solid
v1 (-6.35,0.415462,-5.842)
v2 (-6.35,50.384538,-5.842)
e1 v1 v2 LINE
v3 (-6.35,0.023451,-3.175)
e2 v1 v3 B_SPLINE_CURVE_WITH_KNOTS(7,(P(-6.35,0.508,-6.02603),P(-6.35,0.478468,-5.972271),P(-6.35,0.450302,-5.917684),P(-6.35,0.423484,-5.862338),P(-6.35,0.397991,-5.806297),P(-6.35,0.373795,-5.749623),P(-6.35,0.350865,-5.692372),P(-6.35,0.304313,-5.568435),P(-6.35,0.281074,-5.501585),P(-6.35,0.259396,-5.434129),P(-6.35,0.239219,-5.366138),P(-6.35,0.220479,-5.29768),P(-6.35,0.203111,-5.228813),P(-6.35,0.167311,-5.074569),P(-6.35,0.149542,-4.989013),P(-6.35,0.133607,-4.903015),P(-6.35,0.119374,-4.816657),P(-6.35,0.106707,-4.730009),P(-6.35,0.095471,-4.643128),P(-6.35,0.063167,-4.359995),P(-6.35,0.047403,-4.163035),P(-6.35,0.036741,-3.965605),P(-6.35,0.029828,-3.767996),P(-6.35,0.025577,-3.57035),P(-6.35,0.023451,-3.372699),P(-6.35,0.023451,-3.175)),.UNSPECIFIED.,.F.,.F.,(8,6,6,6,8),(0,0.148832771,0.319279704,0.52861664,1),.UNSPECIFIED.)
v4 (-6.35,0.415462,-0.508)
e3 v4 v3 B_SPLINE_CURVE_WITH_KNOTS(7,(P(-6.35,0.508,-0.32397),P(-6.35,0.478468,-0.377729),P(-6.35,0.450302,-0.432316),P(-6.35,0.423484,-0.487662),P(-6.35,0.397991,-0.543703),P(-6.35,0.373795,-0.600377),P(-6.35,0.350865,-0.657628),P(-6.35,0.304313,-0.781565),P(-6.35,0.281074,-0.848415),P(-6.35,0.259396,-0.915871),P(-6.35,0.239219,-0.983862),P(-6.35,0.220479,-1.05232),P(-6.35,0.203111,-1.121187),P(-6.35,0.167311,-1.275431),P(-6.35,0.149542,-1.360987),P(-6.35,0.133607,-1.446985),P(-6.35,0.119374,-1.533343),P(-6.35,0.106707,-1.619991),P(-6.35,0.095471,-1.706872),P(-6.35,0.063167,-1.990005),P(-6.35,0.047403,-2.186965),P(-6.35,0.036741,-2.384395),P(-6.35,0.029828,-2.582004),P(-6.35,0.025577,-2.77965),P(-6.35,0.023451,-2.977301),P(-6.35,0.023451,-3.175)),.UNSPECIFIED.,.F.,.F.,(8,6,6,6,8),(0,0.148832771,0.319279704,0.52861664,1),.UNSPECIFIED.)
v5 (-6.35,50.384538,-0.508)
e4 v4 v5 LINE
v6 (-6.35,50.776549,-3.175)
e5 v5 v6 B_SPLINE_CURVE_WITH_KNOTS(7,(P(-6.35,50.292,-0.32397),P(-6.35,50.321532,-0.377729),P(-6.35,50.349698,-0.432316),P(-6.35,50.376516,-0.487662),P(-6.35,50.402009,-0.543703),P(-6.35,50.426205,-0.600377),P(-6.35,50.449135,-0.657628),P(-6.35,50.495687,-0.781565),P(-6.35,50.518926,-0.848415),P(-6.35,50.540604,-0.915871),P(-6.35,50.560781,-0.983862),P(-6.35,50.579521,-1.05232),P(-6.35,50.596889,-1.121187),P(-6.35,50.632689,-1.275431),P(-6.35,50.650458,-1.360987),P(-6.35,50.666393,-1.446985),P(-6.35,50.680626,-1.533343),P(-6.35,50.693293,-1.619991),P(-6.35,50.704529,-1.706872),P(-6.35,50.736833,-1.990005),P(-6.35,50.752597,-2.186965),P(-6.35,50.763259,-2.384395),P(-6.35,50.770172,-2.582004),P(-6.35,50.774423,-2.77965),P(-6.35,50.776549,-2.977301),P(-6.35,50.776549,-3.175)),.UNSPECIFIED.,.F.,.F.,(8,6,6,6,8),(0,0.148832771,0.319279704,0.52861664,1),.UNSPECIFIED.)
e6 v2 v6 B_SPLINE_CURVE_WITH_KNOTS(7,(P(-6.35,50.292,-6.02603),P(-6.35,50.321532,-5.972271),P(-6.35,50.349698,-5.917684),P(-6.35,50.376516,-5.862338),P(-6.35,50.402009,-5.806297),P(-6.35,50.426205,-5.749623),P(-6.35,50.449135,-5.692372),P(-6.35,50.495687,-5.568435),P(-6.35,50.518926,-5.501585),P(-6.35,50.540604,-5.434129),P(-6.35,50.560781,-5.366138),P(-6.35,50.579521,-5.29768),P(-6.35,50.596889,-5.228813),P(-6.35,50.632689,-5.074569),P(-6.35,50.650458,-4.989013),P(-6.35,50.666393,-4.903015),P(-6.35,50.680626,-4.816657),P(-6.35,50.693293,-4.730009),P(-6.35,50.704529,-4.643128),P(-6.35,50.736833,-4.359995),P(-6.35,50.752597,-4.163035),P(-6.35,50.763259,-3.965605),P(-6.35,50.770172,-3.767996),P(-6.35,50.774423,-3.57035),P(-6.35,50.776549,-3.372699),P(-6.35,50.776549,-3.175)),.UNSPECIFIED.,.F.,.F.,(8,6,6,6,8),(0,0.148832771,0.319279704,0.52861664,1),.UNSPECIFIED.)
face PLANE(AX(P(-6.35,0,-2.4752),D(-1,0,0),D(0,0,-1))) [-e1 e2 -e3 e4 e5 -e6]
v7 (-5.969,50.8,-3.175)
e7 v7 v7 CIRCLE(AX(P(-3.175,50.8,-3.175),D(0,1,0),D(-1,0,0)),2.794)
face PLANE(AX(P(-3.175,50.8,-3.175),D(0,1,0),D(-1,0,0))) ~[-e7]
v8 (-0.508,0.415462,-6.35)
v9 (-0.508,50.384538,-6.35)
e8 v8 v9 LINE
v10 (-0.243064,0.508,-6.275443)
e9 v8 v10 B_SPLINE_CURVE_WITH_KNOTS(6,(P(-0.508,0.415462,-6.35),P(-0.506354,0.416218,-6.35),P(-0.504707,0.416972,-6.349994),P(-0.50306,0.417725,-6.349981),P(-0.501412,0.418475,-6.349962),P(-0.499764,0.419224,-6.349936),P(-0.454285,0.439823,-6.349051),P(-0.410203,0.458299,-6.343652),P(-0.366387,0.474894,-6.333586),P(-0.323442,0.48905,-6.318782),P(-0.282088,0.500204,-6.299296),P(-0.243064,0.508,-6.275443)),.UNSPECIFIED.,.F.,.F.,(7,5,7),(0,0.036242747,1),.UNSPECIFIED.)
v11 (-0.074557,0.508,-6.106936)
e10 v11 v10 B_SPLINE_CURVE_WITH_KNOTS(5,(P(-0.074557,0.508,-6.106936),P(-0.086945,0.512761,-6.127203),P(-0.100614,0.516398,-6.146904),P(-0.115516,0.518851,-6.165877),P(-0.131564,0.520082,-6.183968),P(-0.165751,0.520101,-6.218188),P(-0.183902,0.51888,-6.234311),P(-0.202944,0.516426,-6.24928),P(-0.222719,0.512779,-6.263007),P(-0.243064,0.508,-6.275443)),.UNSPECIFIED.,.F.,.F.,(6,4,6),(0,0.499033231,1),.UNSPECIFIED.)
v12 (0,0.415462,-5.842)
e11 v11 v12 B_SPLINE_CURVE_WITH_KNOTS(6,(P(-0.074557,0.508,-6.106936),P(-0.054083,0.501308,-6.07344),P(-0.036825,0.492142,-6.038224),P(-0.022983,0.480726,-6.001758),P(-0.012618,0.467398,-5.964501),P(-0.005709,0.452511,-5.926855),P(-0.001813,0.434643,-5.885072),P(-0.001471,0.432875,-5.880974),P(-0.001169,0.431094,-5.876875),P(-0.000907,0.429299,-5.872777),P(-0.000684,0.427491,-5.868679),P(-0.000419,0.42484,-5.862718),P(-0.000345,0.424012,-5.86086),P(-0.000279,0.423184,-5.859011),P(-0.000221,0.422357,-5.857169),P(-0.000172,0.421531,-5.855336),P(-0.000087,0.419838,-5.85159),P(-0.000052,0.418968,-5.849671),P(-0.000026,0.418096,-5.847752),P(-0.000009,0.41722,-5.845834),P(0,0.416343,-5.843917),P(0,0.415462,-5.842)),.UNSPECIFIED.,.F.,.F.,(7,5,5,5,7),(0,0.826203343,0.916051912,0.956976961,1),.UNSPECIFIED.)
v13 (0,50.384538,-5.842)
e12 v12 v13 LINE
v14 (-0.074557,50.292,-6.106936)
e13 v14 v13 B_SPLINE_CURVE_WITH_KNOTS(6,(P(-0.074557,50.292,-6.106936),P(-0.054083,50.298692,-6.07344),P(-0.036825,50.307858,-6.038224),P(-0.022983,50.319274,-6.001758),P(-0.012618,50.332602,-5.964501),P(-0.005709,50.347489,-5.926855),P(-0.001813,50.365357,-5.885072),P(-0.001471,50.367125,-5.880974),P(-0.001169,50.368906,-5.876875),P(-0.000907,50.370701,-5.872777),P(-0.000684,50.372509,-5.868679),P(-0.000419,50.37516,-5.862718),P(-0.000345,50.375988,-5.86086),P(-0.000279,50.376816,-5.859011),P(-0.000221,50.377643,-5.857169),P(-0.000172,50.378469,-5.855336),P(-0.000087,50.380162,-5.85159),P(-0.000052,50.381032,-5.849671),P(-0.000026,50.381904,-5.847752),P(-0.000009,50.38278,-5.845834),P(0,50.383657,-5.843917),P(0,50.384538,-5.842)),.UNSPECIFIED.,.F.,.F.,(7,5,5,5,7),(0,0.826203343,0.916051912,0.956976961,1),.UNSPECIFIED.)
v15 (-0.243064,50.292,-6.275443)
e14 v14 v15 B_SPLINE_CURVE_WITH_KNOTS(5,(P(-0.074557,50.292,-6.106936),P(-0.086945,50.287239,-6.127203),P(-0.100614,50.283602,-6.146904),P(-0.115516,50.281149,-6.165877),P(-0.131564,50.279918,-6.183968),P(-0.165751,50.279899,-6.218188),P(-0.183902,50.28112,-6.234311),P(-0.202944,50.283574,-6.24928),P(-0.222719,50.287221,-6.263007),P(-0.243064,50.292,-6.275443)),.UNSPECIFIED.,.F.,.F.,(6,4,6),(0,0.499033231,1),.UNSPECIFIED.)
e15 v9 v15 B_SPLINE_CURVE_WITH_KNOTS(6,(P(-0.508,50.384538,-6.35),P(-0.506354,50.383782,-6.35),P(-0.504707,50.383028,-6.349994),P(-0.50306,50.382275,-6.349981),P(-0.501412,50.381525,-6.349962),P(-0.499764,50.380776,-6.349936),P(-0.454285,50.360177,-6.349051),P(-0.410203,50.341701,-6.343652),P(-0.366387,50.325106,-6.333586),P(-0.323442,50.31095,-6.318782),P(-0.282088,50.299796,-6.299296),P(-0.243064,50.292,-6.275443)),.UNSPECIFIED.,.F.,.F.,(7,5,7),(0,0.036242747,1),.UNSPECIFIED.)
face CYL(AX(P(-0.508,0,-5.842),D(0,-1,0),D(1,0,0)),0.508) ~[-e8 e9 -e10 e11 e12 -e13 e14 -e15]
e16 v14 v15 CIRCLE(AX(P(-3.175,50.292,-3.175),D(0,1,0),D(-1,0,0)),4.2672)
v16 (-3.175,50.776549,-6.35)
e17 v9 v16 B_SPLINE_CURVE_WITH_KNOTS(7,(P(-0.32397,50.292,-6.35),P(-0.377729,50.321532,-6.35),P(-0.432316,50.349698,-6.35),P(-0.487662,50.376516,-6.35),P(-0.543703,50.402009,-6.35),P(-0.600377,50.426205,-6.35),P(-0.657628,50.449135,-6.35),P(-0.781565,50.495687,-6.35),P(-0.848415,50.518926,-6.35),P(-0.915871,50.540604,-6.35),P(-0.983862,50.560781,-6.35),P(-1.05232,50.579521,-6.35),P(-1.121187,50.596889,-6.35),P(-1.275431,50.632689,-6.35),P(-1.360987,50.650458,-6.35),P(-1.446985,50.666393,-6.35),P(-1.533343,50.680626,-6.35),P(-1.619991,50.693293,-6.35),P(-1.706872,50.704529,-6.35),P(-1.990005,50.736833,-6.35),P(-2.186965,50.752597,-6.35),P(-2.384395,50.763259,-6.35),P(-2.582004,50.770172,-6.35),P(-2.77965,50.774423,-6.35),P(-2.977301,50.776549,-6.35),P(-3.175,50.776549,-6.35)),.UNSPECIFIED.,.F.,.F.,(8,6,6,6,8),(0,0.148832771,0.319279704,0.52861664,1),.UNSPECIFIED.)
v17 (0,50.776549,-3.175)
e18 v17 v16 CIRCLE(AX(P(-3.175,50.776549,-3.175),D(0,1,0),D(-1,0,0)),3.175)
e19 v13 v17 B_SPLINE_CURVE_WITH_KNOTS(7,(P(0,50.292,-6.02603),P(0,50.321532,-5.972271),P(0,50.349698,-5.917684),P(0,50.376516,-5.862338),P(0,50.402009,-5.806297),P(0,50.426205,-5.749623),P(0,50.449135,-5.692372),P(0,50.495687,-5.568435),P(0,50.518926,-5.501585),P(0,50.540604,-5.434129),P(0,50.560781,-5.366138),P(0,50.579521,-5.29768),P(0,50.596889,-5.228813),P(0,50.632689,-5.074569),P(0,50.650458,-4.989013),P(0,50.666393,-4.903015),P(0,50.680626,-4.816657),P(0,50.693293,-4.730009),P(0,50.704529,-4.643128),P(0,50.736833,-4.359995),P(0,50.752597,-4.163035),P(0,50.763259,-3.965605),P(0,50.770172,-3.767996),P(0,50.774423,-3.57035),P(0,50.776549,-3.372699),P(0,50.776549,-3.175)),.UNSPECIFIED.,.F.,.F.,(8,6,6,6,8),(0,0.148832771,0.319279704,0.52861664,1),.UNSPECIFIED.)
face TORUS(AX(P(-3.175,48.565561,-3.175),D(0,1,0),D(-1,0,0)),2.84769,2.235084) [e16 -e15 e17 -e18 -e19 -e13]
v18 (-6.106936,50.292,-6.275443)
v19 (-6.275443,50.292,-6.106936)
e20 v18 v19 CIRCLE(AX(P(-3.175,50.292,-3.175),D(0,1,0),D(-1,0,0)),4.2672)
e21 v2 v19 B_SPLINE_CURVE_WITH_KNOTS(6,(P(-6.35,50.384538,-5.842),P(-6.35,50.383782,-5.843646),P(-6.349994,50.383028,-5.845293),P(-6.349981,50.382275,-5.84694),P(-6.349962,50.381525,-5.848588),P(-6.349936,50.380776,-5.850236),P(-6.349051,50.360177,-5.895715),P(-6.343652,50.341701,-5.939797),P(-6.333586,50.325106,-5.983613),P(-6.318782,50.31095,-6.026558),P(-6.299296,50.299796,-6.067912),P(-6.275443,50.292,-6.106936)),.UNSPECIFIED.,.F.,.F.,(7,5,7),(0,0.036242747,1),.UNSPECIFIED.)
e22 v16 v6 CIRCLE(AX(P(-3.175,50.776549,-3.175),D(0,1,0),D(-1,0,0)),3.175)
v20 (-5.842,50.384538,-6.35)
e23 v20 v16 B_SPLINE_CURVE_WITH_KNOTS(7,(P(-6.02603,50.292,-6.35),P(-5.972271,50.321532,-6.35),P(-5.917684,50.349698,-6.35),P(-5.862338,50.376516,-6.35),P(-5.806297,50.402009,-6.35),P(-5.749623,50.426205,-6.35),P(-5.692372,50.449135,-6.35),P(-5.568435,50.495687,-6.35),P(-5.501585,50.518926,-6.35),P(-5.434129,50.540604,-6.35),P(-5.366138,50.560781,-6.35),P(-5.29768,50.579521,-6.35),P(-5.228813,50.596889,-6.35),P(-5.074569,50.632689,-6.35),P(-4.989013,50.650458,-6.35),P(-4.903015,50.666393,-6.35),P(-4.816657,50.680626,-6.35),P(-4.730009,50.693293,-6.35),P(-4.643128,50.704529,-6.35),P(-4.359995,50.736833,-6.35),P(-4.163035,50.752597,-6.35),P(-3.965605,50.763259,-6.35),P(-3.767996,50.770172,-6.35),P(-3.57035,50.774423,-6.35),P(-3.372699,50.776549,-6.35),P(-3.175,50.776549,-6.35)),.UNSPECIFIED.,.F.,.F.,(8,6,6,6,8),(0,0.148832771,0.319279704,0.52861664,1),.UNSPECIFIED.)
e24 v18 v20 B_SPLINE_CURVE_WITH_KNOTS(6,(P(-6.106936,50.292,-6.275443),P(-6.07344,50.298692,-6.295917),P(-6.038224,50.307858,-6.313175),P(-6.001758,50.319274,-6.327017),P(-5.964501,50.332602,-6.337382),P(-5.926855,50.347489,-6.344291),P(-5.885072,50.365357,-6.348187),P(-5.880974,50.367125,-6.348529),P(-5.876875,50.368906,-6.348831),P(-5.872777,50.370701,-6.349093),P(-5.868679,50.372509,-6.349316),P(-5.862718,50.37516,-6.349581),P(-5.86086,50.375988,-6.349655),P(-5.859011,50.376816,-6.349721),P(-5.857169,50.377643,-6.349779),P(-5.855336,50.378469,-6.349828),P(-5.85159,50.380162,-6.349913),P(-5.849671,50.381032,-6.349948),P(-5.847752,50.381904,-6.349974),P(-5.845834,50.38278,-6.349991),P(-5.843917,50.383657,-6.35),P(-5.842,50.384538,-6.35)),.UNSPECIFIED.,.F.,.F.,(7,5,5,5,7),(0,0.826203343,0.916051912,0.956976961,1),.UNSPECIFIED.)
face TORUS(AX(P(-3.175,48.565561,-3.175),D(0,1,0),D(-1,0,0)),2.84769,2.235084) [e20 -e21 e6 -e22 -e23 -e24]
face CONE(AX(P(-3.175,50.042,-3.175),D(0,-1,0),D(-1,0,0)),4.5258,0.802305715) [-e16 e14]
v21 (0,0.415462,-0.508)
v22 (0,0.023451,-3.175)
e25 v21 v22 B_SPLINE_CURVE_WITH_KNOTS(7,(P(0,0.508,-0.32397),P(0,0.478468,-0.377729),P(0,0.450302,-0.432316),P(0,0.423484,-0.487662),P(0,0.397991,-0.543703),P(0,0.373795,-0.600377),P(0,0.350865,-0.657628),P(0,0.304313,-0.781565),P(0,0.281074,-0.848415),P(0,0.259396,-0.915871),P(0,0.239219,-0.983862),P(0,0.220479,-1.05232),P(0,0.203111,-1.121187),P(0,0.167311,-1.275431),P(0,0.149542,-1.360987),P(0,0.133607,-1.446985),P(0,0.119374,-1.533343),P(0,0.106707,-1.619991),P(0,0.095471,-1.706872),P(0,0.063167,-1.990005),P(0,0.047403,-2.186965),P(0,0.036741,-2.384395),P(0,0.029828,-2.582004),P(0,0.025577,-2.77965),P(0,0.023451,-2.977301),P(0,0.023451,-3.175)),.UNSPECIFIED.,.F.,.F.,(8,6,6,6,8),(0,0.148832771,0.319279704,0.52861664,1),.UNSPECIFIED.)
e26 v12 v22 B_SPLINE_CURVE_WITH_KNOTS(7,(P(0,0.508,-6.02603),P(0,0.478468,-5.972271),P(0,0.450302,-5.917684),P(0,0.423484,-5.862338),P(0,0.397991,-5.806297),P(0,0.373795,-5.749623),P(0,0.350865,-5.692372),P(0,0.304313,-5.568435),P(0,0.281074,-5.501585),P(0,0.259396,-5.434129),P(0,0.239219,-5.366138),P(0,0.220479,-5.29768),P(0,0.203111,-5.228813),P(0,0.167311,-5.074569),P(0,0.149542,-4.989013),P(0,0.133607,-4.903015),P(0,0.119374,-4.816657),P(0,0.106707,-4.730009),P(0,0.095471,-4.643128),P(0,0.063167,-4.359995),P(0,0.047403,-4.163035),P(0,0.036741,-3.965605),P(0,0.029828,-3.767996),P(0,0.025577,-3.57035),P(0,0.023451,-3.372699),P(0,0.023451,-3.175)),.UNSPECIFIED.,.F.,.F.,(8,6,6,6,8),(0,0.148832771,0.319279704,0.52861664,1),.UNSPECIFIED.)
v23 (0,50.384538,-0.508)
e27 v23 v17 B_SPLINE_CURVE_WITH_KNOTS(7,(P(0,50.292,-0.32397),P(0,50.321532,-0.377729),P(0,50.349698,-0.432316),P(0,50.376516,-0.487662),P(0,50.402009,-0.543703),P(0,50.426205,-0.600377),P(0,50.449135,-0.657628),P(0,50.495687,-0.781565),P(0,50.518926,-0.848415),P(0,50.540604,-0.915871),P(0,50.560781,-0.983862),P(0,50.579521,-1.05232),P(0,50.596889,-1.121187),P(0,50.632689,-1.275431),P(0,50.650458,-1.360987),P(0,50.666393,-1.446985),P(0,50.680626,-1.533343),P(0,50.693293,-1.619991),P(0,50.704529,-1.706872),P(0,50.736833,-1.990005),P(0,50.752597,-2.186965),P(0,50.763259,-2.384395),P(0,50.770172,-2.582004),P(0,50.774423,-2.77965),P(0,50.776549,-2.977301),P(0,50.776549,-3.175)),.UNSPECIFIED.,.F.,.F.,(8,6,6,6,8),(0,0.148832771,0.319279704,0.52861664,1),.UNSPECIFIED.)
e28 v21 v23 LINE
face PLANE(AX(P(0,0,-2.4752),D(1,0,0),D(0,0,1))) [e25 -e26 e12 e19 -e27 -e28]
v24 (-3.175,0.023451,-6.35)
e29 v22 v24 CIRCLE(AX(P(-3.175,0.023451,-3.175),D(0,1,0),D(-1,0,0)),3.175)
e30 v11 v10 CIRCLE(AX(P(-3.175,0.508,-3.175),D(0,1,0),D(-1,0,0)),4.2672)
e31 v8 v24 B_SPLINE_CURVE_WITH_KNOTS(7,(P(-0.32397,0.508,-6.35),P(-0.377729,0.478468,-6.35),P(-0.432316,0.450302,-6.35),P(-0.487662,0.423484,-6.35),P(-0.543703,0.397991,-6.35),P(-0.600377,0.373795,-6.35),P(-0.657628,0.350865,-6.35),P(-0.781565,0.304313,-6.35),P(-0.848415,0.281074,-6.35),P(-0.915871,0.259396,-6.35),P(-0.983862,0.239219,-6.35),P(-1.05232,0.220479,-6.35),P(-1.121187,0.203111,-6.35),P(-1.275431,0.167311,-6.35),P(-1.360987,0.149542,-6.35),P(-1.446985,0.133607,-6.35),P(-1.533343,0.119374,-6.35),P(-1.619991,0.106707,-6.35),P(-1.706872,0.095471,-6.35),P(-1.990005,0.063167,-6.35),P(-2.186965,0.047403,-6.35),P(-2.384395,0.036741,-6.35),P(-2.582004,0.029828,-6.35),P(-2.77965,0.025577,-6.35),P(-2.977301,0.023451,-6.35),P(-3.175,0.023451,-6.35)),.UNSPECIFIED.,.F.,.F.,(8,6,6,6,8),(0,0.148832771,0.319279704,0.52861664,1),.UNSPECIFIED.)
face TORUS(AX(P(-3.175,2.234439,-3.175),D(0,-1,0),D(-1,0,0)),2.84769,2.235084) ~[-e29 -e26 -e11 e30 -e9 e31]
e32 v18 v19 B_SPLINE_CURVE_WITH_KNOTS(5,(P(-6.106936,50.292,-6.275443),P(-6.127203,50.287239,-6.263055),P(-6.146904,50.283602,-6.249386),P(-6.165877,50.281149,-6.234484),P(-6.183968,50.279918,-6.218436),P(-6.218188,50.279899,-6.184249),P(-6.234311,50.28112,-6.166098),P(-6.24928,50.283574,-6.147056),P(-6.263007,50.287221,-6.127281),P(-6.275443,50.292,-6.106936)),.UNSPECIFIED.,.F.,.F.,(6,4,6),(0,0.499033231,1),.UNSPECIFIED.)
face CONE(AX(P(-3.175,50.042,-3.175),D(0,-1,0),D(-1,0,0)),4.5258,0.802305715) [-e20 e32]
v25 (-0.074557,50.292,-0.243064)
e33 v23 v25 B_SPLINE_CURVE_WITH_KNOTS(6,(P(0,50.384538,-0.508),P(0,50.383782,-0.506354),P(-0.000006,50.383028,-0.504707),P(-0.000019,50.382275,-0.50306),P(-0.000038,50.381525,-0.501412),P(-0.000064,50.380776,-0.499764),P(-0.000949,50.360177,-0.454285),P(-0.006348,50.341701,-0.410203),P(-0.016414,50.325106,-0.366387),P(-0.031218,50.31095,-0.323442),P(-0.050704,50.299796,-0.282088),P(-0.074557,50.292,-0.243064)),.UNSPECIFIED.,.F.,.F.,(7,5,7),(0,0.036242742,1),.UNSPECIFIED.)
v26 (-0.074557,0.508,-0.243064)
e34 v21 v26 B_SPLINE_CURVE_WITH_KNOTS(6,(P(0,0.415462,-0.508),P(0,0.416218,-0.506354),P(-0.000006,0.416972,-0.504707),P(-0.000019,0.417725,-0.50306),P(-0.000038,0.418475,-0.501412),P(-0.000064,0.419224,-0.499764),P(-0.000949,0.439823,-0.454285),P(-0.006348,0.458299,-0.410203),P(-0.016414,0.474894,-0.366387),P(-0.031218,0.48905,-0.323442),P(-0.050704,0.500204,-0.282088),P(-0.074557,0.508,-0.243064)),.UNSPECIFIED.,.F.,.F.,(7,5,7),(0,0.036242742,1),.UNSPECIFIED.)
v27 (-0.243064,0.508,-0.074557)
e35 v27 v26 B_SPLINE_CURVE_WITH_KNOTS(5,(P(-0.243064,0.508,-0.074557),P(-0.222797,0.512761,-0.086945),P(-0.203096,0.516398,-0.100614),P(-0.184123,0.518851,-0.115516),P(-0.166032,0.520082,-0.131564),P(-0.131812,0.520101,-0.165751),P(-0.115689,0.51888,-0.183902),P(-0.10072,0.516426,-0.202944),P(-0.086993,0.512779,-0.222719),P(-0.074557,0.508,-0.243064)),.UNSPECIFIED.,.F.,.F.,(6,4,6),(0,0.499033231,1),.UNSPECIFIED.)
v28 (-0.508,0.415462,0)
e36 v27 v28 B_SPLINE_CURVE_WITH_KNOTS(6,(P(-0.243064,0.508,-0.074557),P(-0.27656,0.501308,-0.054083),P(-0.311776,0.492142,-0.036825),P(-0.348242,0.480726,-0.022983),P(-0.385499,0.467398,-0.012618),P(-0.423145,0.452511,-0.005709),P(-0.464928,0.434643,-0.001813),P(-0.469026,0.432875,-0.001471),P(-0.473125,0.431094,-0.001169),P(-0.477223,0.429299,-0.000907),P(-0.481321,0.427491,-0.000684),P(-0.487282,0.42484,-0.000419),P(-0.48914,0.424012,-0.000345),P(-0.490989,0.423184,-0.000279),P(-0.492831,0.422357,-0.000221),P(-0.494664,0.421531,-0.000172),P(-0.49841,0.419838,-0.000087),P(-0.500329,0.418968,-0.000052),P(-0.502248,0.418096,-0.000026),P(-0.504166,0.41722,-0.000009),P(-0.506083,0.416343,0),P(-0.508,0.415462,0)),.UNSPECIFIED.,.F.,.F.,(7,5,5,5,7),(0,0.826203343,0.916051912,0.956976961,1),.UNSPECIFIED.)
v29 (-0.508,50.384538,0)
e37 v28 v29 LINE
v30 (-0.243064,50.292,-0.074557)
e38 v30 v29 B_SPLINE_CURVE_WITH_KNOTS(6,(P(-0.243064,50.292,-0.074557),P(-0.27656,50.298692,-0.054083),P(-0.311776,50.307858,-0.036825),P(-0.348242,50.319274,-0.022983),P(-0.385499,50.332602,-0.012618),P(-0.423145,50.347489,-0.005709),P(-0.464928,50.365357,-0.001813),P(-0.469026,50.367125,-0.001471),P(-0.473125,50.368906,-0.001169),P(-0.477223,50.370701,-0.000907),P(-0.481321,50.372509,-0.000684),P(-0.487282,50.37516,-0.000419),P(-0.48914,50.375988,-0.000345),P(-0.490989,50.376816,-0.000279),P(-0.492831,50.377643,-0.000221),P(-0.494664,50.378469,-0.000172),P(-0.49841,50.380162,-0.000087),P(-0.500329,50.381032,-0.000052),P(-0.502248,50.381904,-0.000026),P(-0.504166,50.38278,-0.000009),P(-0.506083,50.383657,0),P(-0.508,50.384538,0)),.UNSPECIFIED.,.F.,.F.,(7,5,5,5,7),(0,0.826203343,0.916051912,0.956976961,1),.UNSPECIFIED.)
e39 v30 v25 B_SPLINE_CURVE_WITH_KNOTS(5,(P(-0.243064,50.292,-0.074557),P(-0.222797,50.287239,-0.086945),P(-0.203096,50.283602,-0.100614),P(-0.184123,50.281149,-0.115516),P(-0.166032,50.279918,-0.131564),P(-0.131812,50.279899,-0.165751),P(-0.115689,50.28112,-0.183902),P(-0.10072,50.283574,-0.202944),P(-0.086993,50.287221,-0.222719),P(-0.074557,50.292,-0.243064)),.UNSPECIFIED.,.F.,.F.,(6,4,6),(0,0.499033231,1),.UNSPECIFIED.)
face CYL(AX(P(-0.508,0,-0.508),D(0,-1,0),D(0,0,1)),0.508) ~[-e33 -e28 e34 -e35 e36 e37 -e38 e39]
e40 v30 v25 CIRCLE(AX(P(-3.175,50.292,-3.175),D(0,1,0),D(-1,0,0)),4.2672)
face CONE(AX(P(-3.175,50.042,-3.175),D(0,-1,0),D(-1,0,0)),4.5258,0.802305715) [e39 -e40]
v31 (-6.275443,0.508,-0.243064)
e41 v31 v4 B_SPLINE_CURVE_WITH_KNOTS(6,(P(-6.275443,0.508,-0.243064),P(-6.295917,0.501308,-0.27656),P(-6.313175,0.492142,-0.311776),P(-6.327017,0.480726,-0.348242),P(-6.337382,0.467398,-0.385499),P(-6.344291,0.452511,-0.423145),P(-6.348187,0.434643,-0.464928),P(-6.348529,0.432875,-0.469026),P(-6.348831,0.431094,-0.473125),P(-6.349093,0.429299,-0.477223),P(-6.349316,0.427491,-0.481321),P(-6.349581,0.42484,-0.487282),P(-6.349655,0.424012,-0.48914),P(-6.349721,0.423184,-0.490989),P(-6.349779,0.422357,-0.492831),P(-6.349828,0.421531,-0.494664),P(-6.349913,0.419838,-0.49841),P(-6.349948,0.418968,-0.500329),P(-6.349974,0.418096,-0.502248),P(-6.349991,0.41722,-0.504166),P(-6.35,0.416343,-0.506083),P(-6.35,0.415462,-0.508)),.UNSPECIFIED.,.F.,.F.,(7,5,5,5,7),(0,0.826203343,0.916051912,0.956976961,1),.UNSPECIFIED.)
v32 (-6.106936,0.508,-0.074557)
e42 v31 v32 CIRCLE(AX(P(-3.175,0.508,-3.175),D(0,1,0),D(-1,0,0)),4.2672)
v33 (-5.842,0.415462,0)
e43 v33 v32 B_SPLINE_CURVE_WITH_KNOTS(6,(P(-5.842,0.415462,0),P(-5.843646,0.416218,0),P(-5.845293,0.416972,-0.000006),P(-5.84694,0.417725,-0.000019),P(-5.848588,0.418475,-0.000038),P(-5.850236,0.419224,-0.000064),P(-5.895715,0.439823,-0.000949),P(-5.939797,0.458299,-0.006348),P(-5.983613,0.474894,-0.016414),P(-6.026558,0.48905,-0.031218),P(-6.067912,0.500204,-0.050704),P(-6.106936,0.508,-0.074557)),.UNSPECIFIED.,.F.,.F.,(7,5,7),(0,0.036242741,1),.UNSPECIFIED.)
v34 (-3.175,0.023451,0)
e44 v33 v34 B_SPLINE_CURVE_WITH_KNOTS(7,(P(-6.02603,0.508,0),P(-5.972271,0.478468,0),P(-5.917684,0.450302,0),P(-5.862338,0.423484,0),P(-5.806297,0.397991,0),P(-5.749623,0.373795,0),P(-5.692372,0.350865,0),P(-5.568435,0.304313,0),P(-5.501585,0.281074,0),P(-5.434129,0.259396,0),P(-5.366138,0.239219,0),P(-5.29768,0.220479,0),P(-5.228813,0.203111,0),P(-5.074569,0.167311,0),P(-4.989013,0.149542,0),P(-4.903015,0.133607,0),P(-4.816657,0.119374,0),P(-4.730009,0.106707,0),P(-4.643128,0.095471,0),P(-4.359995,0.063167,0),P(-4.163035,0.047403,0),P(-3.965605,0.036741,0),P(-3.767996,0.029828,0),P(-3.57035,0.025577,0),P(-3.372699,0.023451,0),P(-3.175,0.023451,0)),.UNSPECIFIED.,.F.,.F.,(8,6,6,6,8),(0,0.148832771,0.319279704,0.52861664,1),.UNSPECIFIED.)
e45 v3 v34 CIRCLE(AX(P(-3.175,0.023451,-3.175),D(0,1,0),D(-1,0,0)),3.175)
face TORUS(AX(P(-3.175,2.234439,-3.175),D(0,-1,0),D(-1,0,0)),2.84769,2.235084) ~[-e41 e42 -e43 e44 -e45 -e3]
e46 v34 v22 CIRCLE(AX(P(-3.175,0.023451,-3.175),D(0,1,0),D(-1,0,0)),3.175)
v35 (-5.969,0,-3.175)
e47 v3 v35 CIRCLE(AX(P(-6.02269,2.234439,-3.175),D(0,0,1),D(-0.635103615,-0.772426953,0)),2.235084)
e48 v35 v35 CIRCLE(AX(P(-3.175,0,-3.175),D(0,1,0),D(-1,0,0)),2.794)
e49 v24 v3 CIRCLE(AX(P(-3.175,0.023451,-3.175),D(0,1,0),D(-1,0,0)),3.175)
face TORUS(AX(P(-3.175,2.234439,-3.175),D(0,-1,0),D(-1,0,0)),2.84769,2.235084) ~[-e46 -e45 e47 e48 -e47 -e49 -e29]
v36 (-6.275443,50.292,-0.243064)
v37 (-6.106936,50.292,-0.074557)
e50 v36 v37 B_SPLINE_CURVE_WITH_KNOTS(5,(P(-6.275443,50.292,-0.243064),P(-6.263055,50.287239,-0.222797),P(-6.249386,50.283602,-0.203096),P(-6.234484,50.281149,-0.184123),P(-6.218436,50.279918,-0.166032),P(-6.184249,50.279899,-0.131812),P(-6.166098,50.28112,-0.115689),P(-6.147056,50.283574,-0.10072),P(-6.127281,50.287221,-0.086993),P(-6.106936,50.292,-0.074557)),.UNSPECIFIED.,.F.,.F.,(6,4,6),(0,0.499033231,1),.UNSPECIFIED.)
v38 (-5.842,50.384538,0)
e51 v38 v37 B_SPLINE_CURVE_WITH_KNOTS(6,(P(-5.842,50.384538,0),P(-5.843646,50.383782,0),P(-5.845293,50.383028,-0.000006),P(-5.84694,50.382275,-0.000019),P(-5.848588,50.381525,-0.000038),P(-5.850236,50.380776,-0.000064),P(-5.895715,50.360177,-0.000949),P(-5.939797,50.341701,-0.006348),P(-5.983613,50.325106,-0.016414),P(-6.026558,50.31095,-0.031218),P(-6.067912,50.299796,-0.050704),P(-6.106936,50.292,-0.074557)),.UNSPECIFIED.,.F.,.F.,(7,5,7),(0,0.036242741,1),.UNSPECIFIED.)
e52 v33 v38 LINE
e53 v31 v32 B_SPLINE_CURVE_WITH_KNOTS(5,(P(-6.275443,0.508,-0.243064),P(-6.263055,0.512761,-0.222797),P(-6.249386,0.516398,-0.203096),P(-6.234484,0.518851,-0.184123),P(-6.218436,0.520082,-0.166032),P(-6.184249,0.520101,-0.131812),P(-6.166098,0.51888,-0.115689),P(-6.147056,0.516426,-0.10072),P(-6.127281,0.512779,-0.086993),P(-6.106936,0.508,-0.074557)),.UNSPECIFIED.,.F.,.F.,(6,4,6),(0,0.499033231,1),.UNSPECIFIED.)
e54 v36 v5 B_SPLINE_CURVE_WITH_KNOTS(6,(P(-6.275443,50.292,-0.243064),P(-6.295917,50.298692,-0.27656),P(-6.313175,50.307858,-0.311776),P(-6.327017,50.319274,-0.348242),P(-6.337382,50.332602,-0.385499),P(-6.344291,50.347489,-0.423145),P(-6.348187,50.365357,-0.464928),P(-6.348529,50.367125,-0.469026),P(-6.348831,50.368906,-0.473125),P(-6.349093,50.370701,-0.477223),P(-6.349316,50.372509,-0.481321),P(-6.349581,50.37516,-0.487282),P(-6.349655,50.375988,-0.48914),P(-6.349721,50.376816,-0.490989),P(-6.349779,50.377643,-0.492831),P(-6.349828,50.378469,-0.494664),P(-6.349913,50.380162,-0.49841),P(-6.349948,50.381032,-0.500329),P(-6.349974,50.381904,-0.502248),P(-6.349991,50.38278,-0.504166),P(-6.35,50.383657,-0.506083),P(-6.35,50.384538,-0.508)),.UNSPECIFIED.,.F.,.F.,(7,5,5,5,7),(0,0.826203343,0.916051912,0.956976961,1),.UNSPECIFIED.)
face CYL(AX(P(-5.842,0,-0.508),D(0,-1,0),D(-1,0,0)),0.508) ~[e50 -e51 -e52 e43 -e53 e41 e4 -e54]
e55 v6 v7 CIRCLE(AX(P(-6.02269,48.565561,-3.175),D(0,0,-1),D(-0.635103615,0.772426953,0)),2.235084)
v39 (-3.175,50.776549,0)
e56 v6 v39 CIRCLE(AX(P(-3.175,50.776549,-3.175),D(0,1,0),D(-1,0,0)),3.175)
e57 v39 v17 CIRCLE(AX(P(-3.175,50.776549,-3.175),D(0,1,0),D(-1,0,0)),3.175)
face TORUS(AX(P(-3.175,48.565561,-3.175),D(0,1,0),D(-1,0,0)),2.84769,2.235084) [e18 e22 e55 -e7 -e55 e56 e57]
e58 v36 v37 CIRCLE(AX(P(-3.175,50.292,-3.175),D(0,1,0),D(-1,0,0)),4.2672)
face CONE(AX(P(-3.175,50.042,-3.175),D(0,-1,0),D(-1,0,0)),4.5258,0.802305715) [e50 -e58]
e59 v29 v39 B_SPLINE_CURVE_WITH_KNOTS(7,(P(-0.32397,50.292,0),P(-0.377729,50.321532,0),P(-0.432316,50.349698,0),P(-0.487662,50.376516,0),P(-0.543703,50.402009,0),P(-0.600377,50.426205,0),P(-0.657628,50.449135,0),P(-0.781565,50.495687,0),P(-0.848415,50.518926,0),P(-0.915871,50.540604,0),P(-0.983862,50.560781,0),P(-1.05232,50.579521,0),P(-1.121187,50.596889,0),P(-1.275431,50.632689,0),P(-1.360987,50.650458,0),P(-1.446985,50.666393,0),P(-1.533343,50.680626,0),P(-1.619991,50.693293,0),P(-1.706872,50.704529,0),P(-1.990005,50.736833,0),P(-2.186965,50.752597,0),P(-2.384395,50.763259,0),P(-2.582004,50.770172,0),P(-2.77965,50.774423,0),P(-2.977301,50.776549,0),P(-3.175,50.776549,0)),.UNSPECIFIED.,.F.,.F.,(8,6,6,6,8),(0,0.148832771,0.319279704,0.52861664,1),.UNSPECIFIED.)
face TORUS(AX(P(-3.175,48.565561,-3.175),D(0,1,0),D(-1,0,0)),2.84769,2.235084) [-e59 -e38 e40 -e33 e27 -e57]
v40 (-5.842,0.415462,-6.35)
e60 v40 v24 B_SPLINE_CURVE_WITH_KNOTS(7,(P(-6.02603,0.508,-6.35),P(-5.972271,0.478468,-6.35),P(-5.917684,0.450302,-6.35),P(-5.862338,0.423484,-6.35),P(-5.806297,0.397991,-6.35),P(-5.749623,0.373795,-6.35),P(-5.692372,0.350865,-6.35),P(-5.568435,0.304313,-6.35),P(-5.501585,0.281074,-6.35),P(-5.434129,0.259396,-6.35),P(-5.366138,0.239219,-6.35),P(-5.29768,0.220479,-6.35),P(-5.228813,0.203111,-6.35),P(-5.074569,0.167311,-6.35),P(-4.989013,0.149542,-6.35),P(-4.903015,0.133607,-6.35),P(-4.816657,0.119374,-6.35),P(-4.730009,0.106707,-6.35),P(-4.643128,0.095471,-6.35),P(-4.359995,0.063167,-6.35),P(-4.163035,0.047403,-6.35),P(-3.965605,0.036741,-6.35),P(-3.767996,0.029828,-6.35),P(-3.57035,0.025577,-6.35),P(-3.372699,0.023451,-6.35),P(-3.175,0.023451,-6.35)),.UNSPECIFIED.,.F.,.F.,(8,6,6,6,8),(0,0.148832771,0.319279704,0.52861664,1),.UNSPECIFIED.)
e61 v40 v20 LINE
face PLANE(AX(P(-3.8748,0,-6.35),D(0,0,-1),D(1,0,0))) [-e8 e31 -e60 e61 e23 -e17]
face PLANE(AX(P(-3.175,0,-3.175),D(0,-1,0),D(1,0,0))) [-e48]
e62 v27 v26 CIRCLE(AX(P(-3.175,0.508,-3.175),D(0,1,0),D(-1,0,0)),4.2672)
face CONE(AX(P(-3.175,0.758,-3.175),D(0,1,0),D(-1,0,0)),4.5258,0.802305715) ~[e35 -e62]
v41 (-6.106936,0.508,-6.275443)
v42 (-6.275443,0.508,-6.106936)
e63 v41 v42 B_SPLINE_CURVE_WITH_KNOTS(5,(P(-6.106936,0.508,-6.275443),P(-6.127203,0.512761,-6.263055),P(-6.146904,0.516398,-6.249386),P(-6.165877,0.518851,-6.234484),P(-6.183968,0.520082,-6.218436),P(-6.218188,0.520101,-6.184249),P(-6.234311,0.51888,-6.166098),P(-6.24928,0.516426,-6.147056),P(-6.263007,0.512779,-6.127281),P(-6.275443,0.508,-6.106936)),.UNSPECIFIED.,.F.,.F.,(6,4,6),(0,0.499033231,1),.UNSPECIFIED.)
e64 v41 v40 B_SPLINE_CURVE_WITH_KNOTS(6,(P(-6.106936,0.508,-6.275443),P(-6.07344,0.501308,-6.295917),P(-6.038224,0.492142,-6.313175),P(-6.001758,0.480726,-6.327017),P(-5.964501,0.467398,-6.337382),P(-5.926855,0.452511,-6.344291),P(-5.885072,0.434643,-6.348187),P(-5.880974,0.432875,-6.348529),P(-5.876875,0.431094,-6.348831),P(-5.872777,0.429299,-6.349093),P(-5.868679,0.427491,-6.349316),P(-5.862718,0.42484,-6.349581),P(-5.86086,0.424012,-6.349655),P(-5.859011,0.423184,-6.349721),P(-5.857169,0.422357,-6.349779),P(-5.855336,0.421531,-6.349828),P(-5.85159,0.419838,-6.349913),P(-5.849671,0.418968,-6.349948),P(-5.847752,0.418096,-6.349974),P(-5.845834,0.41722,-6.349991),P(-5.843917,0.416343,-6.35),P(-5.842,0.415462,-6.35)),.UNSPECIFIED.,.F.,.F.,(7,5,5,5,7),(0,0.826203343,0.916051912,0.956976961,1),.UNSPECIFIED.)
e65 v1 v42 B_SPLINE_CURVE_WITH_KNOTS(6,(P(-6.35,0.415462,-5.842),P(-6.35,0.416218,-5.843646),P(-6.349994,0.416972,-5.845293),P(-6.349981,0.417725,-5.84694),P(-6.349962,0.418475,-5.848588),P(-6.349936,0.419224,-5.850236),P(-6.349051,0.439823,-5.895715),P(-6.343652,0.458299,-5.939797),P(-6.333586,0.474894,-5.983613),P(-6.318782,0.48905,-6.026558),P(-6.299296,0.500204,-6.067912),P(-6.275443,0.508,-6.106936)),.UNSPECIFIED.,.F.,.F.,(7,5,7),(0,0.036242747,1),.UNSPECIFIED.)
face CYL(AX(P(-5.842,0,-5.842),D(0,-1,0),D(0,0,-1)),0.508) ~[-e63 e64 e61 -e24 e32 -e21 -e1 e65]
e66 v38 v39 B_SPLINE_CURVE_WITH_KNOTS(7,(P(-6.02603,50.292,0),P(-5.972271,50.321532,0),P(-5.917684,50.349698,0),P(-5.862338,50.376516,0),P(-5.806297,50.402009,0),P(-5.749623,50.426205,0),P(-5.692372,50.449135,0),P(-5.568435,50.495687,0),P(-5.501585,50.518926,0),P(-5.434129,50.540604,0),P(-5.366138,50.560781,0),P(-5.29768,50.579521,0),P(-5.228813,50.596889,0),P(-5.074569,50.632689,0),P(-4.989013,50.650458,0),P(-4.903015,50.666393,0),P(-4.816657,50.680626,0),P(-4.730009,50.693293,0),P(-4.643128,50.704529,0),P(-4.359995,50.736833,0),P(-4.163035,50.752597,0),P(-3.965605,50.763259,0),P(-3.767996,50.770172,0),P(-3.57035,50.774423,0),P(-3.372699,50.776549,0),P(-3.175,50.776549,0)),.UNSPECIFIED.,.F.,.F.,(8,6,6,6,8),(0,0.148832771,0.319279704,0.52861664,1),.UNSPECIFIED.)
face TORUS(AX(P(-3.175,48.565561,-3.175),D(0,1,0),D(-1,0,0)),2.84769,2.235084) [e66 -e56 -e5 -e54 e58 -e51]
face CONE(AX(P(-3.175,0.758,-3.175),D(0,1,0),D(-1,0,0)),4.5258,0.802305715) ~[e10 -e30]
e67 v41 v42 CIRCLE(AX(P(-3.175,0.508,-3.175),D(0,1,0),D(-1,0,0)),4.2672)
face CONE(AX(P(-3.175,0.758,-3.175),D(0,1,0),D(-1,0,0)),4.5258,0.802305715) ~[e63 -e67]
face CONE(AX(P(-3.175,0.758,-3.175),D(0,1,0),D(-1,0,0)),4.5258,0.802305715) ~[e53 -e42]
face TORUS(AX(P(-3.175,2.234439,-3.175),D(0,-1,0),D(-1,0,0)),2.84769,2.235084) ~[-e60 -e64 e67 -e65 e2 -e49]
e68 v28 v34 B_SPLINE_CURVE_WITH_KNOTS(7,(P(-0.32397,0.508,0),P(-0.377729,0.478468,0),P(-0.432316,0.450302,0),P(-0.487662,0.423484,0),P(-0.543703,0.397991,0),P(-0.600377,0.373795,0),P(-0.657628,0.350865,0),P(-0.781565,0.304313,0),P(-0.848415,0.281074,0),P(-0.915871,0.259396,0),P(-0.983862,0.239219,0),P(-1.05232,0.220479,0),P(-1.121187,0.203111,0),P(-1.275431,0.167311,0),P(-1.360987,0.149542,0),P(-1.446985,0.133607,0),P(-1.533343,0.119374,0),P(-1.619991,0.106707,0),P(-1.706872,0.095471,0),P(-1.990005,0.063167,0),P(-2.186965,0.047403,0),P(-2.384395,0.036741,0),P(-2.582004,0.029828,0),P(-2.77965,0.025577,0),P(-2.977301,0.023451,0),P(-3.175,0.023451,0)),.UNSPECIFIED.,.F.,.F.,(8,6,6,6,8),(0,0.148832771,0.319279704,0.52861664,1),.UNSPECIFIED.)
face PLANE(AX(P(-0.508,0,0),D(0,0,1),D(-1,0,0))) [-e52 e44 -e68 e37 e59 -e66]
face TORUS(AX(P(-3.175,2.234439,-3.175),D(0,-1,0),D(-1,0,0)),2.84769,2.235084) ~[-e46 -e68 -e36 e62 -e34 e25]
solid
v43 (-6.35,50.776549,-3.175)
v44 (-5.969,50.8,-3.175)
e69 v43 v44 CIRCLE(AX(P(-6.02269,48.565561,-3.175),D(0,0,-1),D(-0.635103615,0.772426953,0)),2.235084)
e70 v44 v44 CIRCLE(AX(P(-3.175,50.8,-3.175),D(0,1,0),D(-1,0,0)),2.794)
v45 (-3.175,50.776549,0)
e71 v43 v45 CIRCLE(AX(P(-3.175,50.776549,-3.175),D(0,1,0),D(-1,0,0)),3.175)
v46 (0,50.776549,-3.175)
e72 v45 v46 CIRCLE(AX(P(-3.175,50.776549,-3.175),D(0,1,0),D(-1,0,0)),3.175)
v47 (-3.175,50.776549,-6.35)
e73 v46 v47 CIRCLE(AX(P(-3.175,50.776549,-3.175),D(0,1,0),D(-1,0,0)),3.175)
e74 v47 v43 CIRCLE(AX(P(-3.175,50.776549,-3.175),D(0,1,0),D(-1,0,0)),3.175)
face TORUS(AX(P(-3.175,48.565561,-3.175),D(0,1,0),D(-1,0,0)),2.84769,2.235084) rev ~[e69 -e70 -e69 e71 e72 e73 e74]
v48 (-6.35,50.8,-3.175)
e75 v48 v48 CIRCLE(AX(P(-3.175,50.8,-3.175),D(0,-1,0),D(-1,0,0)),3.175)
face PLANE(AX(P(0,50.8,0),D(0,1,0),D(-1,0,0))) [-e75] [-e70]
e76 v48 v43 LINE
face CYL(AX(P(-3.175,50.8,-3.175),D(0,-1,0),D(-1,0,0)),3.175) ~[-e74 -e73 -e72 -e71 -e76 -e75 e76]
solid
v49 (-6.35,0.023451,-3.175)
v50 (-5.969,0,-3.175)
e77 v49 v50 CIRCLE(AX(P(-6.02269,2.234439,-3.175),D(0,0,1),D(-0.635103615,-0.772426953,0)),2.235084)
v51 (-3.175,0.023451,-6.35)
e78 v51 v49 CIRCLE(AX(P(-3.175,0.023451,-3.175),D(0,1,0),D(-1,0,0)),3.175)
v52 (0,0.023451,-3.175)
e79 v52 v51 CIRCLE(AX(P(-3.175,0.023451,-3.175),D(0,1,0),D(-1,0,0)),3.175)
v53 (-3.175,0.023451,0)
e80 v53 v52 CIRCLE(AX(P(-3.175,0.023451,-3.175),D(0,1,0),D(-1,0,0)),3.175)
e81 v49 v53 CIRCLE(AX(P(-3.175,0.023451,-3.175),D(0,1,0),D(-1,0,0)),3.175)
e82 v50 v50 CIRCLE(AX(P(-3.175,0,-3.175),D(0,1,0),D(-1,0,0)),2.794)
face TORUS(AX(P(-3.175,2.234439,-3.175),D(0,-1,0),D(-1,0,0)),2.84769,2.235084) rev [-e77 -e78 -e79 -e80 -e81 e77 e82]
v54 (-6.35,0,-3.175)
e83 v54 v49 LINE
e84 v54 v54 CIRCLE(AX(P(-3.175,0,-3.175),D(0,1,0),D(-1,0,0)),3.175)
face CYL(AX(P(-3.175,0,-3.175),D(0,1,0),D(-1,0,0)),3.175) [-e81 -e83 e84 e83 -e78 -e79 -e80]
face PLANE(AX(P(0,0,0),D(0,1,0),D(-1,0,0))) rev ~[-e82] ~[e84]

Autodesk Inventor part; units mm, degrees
ref_plane "YZ Plane" through (0, 0, 0) normal (1, 0, 0) x (0, 1, 0)
sketch "Sketch1" plane through (0, 0, 0) normal (0, 1, 0) x (-1, 0, 0)
  line L0 (0.508, 0) -> (5.842, 0)
  line L1 (6.35, -0.508) -> (6.35, -5.842)
  line L2 (5.842, -6.35) -> (0.508, -6.35)
  line L3 (0, -5.842) -> (0, -0.508)
  arc A0 (5.842, -6.35) -> (6.35, -5.842) centre (5.842, -5.842) ccw
  arc A1 (0, -5.842) -> (0.508, -6.35) centre (0.508, -5.842) ccw
  arc A2 (0.508, 0) -> (0, -0.508) centre (0.508, -0.508) ccw
  arc A3 (6.35, -0.508) -> (5.842, 0) centre (5.842, -0.508) ccw
  arc A4 (3.8748, -6.35) -> (6.35, -3.8748) centre (3.175, -3.175) ccw
  arc A5 (0, -3.8748) -> (2.4752, -6.35) centre (3.175, -3.175) ccw
  arc A6 (6.35, -2.4752) -> (3.8748, 0) centre (3.175, -3.175) ccw
  arc A7 (2.4752, 0) -> (0, -2.4752) centre (3.175, -3.175) ccw
  point P0 (0, 0)
  point P1 (6.35, -6.35)
  point P2 (6.35, 0)
  point P3 (0, -6.35)
  dimension "d0" = 6.35
  dimension "d1" = 6.35
  dimension "d2" = 0.508
extrude "Extrusion1" add sketch "Sketch1" along normal blind 50.8
ref_plane "Work Plane1" through (-0.508, 0, -3.175) normal (0, 0, -1) x (-1, 0, 0)
sketch "Sketch2" plane through (-0.508, 0, -3.175) normal (0, 0, -1) x (-1, 0, 0)
  line L0 (-0.508, 0) -> (-0.508, 50.8) projected
  line L1 (-0.508, 50.8) -> (5.842, 50.8) projected
  line L2 (5.842, 50.8) -> (5.842, 0) projected
  line L3 (5.842, 0) -> (-0.508, 0) projected
  line L4 (2.667, 50.8) -> (2.667, 51.5112)
  line L5 (2.667, 51.5112) -> (6.9342, 51.5112)
  line L6 (2.667, 50.8) -> (5.461, 50.8)
  arc A0 (6.9342, 50.292) -> (5.461, 50.8) centre (5.5146, 48.5654) ccw
  line L7 (6.9342, 51.5112) -> (7.1928, 51.5112)
  line L8 (7.1928, 51.5112) -> (7.1928, 50.042)
  line L9 (7.1928, 50.042) -> (6.9342, 50.292)
  dimension "d6" = 0.7112
  dimension "d7" = 4.2672
  dimension "d8" = 1.2192
  dimension "d9" = 2.794
  dimension "d10" = 2.2352
revolve "Revolution1" cut sketch "Sketch2" angle 360 about axis through (-3.175, 50.8, -3.175) along (0, 1, 0) contours L4 L5 L7 L8 L9 A0 L1
ref_plane "Work Plane2" through (-3.175, 25.4, -3.175) normal (0, 1, 0) x (1, 0, 0)
mirror "Mirror1" about plane through (-3.175, 25.4, -3.175) normal (0, 1, 0) of "Revolution1"
properties part number "276-3440"
